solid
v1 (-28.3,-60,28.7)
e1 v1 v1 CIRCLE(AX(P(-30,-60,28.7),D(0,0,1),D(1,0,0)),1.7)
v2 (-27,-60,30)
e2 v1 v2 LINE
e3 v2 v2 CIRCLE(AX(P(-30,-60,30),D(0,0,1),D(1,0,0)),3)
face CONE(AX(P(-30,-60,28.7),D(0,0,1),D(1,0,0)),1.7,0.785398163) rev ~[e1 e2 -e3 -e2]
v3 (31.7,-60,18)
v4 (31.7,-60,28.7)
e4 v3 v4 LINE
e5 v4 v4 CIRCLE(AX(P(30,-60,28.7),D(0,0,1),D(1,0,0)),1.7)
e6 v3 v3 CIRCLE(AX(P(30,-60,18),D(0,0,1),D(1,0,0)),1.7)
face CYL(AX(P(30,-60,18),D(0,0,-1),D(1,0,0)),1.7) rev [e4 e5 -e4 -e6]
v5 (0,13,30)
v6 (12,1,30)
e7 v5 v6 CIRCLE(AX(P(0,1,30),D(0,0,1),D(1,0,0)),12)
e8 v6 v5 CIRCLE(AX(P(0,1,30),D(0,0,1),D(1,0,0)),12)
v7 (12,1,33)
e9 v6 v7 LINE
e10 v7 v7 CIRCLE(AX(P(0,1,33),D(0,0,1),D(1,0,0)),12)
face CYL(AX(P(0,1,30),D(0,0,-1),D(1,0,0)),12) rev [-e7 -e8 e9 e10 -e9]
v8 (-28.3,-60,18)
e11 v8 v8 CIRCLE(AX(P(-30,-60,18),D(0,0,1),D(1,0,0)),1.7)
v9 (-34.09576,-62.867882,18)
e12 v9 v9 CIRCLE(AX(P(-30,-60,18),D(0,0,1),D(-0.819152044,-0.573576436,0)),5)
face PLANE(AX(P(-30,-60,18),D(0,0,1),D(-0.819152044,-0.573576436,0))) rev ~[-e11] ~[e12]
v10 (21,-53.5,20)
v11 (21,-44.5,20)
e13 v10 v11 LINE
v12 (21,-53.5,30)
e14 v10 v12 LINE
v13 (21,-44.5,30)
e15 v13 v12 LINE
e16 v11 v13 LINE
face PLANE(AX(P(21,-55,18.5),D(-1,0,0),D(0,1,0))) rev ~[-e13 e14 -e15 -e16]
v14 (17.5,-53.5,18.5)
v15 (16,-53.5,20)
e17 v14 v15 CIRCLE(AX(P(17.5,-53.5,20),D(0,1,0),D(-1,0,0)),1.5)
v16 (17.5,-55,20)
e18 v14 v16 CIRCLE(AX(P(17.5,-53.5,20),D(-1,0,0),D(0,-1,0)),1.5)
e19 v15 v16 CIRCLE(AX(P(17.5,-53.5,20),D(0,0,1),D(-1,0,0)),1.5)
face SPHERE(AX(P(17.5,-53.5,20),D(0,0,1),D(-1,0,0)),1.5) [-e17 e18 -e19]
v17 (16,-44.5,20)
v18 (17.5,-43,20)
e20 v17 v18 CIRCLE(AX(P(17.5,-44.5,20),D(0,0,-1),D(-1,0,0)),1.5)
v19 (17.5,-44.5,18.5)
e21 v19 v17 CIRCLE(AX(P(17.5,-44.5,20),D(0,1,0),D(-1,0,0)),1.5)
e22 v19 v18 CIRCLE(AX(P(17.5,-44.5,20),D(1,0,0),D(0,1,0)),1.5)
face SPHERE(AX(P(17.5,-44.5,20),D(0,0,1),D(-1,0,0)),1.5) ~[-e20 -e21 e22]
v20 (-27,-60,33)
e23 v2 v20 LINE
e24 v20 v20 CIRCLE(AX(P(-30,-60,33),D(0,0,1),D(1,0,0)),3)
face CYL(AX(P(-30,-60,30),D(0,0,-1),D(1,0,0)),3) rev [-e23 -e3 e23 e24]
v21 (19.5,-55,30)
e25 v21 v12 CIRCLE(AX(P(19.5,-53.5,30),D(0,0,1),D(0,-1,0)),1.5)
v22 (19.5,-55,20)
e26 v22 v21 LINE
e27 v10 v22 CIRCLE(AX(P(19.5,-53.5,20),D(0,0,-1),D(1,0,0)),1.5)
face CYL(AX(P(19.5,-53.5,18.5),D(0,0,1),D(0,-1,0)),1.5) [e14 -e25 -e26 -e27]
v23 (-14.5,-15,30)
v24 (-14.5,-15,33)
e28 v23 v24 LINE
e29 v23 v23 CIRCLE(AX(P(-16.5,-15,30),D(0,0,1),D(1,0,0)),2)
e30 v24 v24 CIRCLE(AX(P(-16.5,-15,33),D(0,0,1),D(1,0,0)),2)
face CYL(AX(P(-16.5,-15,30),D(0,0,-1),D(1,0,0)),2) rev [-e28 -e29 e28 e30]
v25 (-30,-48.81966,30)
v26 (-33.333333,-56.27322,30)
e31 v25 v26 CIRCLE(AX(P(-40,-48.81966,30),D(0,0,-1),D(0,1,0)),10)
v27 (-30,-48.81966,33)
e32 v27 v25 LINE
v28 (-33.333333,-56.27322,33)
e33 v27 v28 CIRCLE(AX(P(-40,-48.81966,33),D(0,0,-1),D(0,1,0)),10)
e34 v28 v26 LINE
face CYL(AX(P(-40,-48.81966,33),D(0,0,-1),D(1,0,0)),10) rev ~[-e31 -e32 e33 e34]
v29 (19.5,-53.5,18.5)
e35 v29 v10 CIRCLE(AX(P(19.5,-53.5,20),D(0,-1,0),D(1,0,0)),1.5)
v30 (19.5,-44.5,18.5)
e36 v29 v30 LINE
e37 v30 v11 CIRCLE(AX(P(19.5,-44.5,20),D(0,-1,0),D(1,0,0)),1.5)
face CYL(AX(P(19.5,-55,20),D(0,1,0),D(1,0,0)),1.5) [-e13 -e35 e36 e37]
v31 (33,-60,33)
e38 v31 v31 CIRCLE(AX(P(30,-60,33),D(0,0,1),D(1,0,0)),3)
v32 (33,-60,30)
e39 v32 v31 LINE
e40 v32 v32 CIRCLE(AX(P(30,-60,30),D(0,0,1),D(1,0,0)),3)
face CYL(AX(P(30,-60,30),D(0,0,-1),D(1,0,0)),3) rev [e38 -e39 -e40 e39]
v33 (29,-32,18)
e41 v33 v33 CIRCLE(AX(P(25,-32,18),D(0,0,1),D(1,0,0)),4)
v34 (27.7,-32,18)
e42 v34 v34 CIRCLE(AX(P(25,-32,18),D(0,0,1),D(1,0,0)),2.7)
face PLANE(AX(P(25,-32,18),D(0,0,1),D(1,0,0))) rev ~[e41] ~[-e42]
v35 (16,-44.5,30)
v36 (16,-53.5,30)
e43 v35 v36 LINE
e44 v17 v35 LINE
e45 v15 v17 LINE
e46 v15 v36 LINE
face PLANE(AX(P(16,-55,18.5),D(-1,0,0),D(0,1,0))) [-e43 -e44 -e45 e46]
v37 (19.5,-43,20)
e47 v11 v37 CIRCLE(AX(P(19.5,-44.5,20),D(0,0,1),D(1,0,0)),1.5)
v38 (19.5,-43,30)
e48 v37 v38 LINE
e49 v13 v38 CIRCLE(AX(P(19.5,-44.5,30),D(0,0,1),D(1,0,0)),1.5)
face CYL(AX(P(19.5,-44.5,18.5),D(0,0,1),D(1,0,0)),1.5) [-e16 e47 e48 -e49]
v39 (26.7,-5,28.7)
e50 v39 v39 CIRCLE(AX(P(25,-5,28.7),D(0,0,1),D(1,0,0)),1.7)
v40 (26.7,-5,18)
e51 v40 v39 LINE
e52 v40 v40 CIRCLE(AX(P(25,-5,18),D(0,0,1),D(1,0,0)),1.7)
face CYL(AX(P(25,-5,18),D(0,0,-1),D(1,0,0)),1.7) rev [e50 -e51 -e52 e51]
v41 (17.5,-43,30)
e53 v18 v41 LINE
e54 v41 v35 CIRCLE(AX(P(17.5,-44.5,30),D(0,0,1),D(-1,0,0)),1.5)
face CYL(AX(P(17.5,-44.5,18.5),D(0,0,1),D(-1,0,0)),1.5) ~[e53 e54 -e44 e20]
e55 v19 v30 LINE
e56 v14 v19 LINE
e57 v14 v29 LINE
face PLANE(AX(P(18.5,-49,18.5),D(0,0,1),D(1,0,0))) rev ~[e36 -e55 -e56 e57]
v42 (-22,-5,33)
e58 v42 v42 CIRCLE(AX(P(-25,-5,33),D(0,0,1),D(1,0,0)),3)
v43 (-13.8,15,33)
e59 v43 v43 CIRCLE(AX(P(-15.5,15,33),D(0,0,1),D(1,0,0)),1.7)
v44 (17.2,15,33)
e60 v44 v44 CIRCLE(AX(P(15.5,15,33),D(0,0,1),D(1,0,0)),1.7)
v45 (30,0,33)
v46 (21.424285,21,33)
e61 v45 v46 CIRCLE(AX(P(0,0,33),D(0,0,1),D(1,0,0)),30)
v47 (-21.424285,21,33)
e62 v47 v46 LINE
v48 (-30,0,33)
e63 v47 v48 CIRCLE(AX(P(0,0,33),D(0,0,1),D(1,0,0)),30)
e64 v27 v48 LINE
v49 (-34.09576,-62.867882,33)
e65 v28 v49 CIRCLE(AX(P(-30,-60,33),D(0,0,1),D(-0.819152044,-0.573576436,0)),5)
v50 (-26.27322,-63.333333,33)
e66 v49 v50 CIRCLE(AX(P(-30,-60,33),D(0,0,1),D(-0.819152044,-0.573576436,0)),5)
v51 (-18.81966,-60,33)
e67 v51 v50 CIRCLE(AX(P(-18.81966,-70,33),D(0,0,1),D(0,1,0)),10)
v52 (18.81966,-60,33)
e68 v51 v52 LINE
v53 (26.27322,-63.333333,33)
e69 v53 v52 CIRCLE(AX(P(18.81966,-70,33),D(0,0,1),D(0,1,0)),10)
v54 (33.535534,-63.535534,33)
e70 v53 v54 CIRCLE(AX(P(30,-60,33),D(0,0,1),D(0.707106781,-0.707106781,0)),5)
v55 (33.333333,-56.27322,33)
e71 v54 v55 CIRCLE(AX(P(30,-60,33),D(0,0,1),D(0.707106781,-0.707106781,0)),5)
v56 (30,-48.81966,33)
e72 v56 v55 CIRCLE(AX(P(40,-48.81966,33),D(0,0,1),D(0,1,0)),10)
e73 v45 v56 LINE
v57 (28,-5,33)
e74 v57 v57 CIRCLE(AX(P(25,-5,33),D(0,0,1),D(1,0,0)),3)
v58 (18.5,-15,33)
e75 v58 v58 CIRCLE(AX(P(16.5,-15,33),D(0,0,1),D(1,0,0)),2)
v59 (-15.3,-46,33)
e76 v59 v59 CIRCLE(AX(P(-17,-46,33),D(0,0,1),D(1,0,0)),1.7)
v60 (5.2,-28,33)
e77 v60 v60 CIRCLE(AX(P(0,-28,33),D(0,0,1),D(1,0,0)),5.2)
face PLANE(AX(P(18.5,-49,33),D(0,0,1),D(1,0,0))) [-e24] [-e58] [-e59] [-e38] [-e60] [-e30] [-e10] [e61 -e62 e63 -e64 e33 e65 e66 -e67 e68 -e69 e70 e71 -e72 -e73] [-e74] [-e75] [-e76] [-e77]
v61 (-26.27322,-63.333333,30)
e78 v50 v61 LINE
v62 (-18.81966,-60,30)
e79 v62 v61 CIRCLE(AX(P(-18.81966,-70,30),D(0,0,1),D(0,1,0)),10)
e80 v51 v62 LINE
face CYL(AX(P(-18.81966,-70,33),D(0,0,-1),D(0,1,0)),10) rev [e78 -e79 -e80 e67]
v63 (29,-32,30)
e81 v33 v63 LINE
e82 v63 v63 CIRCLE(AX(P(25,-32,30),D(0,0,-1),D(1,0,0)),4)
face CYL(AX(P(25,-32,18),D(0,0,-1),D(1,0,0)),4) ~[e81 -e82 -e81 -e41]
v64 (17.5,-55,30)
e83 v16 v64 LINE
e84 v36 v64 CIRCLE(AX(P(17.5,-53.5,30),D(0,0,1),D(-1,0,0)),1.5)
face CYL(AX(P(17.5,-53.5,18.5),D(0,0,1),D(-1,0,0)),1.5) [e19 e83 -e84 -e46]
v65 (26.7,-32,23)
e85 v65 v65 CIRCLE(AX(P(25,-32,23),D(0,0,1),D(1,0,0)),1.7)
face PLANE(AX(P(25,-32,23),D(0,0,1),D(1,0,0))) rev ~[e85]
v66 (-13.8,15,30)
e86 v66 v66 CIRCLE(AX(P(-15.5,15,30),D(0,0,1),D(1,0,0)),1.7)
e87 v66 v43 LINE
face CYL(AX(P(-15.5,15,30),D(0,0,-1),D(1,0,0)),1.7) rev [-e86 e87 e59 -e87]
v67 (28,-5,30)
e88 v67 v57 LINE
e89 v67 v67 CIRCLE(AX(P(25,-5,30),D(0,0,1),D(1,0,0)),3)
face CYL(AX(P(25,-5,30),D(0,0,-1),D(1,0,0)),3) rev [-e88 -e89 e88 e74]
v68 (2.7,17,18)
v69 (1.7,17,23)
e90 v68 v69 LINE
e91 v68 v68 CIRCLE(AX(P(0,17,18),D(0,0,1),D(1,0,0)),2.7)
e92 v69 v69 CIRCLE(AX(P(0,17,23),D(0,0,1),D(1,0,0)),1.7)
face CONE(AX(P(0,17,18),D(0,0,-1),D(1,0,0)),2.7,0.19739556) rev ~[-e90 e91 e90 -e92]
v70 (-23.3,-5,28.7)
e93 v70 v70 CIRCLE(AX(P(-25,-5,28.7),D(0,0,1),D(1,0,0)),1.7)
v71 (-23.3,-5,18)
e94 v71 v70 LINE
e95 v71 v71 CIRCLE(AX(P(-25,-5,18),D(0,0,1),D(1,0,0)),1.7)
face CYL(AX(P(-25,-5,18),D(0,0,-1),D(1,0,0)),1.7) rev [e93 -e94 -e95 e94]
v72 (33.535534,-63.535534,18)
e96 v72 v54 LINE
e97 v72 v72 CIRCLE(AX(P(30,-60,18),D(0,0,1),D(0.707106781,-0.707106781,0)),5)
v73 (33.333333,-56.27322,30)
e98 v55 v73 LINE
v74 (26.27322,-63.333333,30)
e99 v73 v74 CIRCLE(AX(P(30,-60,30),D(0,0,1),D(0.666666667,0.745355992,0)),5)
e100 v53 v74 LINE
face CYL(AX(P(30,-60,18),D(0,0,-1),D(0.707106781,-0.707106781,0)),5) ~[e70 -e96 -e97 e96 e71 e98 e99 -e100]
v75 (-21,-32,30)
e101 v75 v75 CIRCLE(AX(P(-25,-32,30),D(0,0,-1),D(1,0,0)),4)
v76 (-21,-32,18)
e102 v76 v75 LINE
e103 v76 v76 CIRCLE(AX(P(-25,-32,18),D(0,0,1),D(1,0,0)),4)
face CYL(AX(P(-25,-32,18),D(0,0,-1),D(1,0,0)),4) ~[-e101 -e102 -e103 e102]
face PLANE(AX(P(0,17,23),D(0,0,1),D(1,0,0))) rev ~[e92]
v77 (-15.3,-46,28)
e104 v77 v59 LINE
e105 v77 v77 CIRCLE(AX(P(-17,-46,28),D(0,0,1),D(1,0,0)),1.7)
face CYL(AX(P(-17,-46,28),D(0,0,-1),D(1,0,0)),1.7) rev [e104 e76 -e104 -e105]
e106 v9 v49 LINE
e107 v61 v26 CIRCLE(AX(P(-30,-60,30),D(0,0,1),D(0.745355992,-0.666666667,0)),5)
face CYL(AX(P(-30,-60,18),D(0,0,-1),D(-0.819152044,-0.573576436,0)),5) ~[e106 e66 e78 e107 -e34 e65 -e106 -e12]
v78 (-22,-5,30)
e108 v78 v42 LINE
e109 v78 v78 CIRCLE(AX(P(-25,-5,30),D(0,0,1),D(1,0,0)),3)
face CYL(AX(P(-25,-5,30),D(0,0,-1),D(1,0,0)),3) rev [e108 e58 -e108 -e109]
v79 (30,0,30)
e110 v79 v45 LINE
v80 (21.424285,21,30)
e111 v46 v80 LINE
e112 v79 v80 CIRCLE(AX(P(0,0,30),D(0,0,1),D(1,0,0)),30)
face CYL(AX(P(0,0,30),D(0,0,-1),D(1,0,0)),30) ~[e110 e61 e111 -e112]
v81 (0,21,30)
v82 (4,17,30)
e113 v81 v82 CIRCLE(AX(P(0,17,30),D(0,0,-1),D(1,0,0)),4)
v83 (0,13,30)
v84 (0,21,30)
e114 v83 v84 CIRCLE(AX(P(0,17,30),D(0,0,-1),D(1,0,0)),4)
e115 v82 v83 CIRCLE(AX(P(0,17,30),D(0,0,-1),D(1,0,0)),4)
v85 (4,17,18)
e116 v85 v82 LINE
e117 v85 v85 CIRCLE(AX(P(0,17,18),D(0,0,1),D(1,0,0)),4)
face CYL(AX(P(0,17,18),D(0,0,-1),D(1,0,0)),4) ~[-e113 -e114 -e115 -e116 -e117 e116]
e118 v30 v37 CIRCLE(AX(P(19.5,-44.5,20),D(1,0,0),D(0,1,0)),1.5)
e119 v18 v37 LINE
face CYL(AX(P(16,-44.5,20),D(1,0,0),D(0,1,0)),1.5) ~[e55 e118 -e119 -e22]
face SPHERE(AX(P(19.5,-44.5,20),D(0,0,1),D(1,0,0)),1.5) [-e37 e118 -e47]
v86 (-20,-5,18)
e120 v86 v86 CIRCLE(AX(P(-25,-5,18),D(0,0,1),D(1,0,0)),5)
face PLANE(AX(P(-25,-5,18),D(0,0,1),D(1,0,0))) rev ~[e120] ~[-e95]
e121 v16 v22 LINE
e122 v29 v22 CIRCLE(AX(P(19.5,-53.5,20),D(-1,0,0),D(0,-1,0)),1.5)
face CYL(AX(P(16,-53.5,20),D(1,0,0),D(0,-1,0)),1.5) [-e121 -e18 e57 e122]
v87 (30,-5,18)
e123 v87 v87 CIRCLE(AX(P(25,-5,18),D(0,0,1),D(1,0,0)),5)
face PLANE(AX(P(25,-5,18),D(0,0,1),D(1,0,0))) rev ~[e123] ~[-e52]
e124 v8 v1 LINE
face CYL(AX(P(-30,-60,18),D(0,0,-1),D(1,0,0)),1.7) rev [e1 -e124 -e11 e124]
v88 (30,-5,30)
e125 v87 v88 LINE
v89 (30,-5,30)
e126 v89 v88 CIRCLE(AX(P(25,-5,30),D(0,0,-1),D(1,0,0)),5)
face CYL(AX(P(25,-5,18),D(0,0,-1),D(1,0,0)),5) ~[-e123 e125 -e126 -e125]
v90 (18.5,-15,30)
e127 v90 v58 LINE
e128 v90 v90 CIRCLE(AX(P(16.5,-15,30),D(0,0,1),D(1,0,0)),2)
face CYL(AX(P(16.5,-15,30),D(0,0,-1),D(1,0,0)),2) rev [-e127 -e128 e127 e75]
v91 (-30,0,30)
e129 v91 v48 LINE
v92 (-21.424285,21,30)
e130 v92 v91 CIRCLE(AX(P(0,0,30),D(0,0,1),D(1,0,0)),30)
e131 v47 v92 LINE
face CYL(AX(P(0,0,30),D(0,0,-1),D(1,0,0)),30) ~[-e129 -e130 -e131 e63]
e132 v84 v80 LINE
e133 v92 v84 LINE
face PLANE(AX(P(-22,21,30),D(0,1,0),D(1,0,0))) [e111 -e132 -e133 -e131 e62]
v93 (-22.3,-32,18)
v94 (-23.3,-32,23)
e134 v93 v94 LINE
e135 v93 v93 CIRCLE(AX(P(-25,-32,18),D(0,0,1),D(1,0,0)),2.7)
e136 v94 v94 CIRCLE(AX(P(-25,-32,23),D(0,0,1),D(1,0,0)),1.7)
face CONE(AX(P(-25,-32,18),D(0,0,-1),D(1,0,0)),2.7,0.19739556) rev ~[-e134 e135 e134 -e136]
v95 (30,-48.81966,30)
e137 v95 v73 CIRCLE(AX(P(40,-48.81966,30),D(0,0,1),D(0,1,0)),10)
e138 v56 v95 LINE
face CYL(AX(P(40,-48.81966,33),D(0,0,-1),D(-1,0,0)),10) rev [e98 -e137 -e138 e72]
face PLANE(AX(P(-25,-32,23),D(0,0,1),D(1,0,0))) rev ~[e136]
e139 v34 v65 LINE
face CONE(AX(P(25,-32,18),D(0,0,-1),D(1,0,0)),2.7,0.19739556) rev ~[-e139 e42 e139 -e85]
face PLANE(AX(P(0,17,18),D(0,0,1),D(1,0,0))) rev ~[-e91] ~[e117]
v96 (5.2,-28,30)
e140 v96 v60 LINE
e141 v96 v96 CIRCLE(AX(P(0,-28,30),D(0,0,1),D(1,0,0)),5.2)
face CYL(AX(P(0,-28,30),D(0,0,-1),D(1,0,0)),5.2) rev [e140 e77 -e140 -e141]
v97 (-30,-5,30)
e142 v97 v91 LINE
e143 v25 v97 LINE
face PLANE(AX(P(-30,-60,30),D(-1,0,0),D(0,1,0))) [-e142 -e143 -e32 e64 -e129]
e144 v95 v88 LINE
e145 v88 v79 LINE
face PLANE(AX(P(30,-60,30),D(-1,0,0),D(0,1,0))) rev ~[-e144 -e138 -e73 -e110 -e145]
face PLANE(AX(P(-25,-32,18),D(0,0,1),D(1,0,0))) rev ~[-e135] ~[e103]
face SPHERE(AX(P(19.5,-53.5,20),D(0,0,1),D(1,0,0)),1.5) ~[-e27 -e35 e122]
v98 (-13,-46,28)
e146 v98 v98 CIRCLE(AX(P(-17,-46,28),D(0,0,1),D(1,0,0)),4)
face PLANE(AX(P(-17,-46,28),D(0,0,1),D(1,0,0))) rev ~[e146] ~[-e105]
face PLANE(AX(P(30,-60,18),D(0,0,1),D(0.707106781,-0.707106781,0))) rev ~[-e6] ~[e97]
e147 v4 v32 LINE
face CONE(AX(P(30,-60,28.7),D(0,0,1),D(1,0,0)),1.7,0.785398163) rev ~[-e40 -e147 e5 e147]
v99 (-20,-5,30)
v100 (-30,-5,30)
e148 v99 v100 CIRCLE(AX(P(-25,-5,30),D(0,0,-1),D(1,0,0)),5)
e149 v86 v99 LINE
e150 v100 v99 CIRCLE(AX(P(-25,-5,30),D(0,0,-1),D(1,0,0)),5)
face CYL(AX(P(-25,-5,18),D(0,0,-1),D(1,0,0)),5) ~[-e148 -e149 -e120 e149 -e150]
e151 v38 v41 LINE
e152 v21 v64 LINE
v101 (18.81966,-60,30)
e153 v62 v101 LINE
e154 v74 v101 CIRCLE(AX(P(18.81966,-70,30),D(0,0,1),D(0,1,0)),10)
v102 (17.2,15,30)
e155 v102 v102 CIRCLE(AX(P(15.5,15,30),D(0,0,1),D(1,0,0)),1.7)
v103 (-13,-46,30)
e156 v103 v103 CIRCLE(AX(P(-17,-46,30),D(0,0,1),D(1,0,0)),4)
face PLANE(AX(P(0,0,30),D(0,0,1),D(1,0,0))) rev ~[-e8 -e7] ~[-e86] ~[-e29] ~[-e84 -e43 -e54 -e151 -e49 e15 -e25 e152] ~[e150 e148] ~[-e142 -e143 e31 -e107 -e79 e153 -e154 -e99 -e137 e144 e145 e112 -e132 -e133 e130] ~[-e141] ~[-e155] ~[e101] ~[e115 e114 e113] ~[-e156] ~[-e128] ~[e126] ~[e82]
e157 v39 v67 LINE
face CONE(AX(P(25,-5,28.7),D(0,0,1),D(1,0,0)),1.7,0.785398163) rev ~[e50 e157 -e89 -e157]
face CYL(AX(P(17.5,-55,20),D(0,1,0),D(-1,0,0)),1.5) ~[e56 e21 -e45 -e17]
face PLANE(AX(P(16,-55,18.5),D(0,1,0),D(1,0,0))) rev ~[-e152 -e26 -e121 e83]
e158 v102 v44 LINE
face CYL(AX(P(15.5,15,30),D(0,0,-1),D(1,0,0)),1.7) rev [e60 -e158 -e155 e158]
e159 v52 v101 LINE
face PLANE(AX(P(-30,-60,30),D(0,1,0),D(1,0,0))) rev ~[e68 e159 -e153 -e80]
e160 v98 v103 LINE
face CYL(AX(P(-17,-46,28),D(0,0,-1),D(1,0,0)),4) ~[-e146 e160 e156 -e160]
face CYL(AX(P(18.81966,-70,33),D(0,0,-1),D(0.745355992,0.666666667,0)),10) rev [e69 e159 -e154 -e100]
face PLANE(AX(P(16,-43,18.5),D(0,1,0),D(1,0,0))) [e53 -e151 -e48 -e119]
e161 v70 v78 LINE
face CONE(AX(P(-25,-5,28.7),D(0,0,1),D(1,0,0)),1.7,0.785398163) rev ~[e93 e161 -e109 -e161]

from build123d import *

# Parameters (mm, degrees)
CYLINDER054_R               = 3
CYLINDER054_DEPTH           = 3
CYLINDER053_R               = 3
CYLINDER053_DEPTH           = 3
CYLINDER052_R               = 3
CYLINDER052_DEPTH           = 3
CYLINDER055_R               = 3
CYLINDER055_DEPTH           = 3
CYLINDER079_R               = 1.7
CYLINDER079_DEPTH           = 15
CYLINDER078_R               = 1.7
CYLINDER078_DEPTH           = 15
CYLINDER_R                  = 1.7
CYLINDER_DEPTH              = 15
CYLINDER080_R               = 1.7
CYLINDER080_DEPTH           = 15
CYLINDER107_R               = 1.7
CYLINDER107_DEPTH           = 5
CYLINDER086_R               = 5.2
CYLINDER086_DEPTH           = 3
BOX014_W                    = 44
BOX014_H                    = 10
BOX014_DEPTH                = 3
CYLINDER012_R               = 12
CYLINDER012_DEPTH           = 3
CYLINDER092_R               = 1.7
CYLINDER092_DEPTH           = 3
CYLINDER091_R               = 2
CYLINDER091_DEPTH           = 3
CYLINDER090_R               = 2
CYLINDER090_DEPTH           = 3
CYLINDER093_R               = 1.7
CYLINDER093_DEPTH           = 3
CYLINDER062_R               = 30
CYLINDER062_DEPTH           = 3
BOX018_W                    = 5
BOX018_H                    = 12
BOX018_DEPTH                = 14.5
FILLET011_R                 = 1.5
CYLINDER087_R               = 4
CYLINDER087_DEPTH           = 15
CYLINDER088_R               = 4
CYLINDER088_DEPTH           = 15
CYLINDER060_R               = 4
CYLINDER060_DEPTH           = 15
CYLINDER057_R               = 5
CYLINDER057_DEPTH           = 15
CYLINDER057_PLACEMENT_ANGLE = 215
CYLINDER056_R               = 5
CYLINDER056_DEPTH           = 15
CYLINDER056_PLACEMENT_ANGLE = -45
CYLINDER058_R               = 5
CYLINDER058_DEPTH           = 15
CYLINDER059_R               = 5
CYLINDER059_DEPTH           = 15
CYLINDER106_R               = 4
CYLINDER106_DEPTH           = 2
BOX008_W                    = 60
BOX008_H                    = 60
BOX008_DEPTH                = 3
FILLET014_R                 = 10


with BuildPart() as deltacylinder007:
    # Cylinder054 → Cylinder054 (new body)
    with BuildSketch(Plane(origin=(25, -5, 30), x_dir=(1, 0, 0), z_dir=(0, 0, 1))):
        Circle(CYLINDER054_R)
    extrude(amount=CYLINDER054_DEPTH)


with BuildPart() as deltacylinder006:
    # Cylinder053 → Cylinder053 (new body)
    with BuildSketch(Plane(origin=(-30, -60, 30), x_dir=(1, 0, 0), z_dir=(0, 0, 1))):
        Circle(CYLINDER053_R)
    extrude(amount=CYLINDER053_DEPTH)


with BuildPart() as deltacylinder005:
    # Cylinder052 → Cylinder052 (new body)
    with BuildSketch(Plane(origin=(30, -60, 30), x_dir=(1, 0, 0), z_dir=(0, 0, 1))):
        Circle(CYLINDER052_R)
    extrude(amount=CYLINDER052_DEPTH)


with BuildPart() as deltacylindernutheadstop:
    # Cylinder055 → Cylinder055 (new body)
    with BuildSketch(Plane(origin=(-25, -5, 30), x_dir=(1, 0, 0), z_dir=(0, 0, 1))):
        Circle(CYLINDER055_R)
    extrude(amount=CYLINDER055_DEPTH)

    # Fusion028: union DeltaCylinder007, DeltaCylinder006, DeltaCylinder005
    add(deltacylinder007.part)
    add(deltacylinder006.part)
    add(deltacylinder005.part)


with BuildPart() as deltacylinder020:
    # Cylinder079 → Cylinder079 (new body)
    with BuildSketch(Plane(origin=(25, -5, 18), x_dir=(1, 0, 0), z_dir=(0, 0, 1))):
        Circle(CYLINDER079_R)
    extrude(amount=CYLINDER079_DEPTH)


with BuildPart() as deltacylinder019:
    # Cylinder078 → Cylinder078 (new body)
    with BuildSketch(Plane(origin=(30, -60, 18), x_dir=(1, 0, 0), z_dir=(0, 0, 1))):
        Circle(CYLINDER078_R)
    extrude(amount=CYLINDER078_DEPTH)


with BuildPart() as deltacylinder018:
    # Cylinder → Cylinder (new body)
    with BuildSketch(Plane(origin=(-30, -60, 18), x_dir=(1, 0, 0), z_dir=(0, 0, 1))):
        Circle(CYLINDER_R)
    extrude(amount=CYLINDER_DEPTH)


with BuildPart() as deltacylinderm3top:
    # Cylinder080 → Cylinder080 (new body)
    with BuildSketch(Plane(origin=(-25, -5, 18), x_dir=(1, 0, 0), z_dir=(0, 0, 1))):
        Circle(CYLINDER080_R)
    extrude(amount=CYLINDER080_DEPTH)

    # Fusion027: union DeltaCylinder020, DeltaCylinder019, DeltaCylinder018
    add(deltacylinder020.part)
    add(deltacylinder019.part)
    add(deltacylinder018.part)


with BuildPart() as deltaconetop001:
    # Cone005 → Cone005 (revolve)
    with BuildSketch(Plane(origin=(-25, -32, 18), x_dir=(1, 0, 0), z_dir=(0, -1, 0))):
        Polygon((0, 0), (2.7, 0), (1.7, 5), (0, 5), align=None)
    revolve(axis=Axis((-25, -32, 18), (0, 0, 1)))


with BuildPart() as deltaconetop:
    # Cone002 → Cone002 (revolve)
    with BuildSketch(Plane(origin=(0, 17, 18), x_dir=(1, 0, 0), z_dir=(0, -1, 0))):
        Polygon((0, 0), (2.7, 0), (1.7, 5), (0, 5), align=None)
    revolve(axis=Axis((0, 17, 18), (0, 0, 1)))


with BuildPart() as deltaalignmentboltstop:
    # Cone006 → Cone006 (revolve)
    with BuildSketch(Plane(origin=(25, -32, 18), x_dir=(1, 0, 0), z_dir=(0, -1, 0))):
        Polygon((0, 0), (2.7, 0), (1.7, 5), (0, 5), align=None)
    revolve(axis=Axis((25, -32, 18), (0, 0, 1)))

    # Fusion026: union DeltaConeTop001, DeltaConeTop
    add(deltaconetop001.part)
    add(deltaconetop.part)


with BuildPart() as deltacone005:
    # Cone011 → Cone011 (revolve)
    with BuildSketch(Plane(origin=(30, -60, 28.7), x_dir=(1, 0, 0), z_dir=(0, -1, 0))):
        Polygon((0, 0), (1.7, 0), (3, 1.3), (0, 1.3), align=None)
    revolve(axis=Axis((30, -60, 28.7), (0, 0, 1)))


with BuildPart() as deltacone004:
    # Cone010 → Cone010 (revolve)
    with BuildSketch(Plane(origin=(-30, -60, 28.7), x_dir=(1, 0, 0), z_dir=(0, -1, 0))):
        Polygon((0, 0), (1.7, 0), (3, 1.3), (0, 1.3), align=None)
    revolve(axis=Axis((-30, -60, 28.7), (0, 0, 1)))


with BuildPart() as deltacone003:
    # Cone009 → Cone009 (revolve)
    with BuildSketch(Plane(origin=(-25, -5, 28.7), x_dir=(1, 0, 0), z_dir=(0, -1, 0))):
        Polygon((0, 0), (1.7, 0), (3, 1.3), (0, 1.3), align=None)
    revolve(axis=Axis((-25, -5, 28.7), (0, 0, 1)))


with BuildPart() as deltaconenutheadstop:
    # Cone008 → Cone008 (revolve)
    with BuildSketch(Plane(origin=(25, -5, 28.7), x_dir=(1, 0, 0), z_dir=(0, -1, 0))):
        Polygon((0, 0), (1.7, 0), (3, 1.3), (0, 1.3), align=None)
    revolve(axis=Axis((25, -5, 28.7), (0, 0, 1)))

    # Fusion031: union DeltaCone005, DeltaCone004, DeltaCone003
    add(deltacone005.part)
    add(deltacone004.part)
    add(deltacone003.part)


with BuildPart() as deltacylinderholderaxistop:
    # Cylinder107 → Cylinder107 (new body)
    with BuildSketch(Plane(origin=(-17, -46, 28), x_dir=(1, 0, 0), z_dir=(0, 0, 1))):
        Circle(CYLINDER107_R)
    extrude(amount=CYLINDER107_DEPTH)


with BuildPart() as deltacylinderf623zztop:
    # Cylinder086 → Cylinder086 (new body)
    with BuildSketch(Plane(origin=(0, -28, 30), x_dir=(1, 0, 0), z_dir=(0, 0, 1))):
        Circle(CYLINDER086_R)
    extrude(amount=CYLINDER086_DEPTH)


with BuildPart() as deltacubenema17top:
    # Box014 → Box014 (new body)
    with BuildSketch(Plane(origin=(-22, 21, 30), x_dir=(1, 0, 0), z_dir=(0, 0, 1))):
        with Locations((22, 5)):
            Rectangle(BOX014_W, BOX014_H)
    extrude(amount=BOX014_DEPTH)


with BuildPart() as deltacylindersmallgeartop:
    # Cylinder012 → Cylinder012 (new body)
    with BuildSketch(Plane(origin=(0, 1, 30), x_dir=(1, 0, 0), z_dir=(0, 0, 1))):
        Circle(CYLINDER012_R)
    extrude(amount=CYLINDER012_DEPTH)


with BuildPart() as deltacylinder031:
    # Cylinder092 → Cylinder092 (new body)
    with BuildSketch(Plane(origin=(-15.5, 15, 30), x_dir=(1, 0, 0), z_dir=(0, 0, 1))):
        Circle(CYLINDER092_R)
    extrude(amount=CYLINDER092_DEPTH)


with BuildPart() as deltacylinder030:
    # Cylinder091 → Cylinder091 (new body)
    with BuildSketch(Plane(origin=(-16.5, -15, 30), x_dir=(1, 0, 0), z_dir=(0, 0, 1))):
        Circle(CYLINDER091_R)
    extrude(amount=CYLINDER091_DEPTH)


with BuildPart() as deltacylinder029:
    # Cylinder090 → Cylinder090 (new body)
    with BuildSketch(Plane(origin=(16.5, -15, 30), x_dir=(1, 0, 0), z_dir=(0, 0, 1))):
        Circle(CYLINDER090_R)
    extrude(amount=CYLINDER090_DEPTH)


with BuildPart() as deltacylindernemahexnut:
    # Cylinder093 → Cylinder093 (new body)
    with BuildSketch(Plane(origin=(15.5, 15, 30), x_dir=(1, 0, 0), z_dir=(0, 0, 1))):
        Circle(CYLINDER093_R)
    extrude(amount=CYLINDER093_DEPTH)

    # Fusion025: union DeltaCylinder031, DeltaCylinder030, DeltaCylinder029
    add(deltacylinder031.part)
    add(deltacylinder030.part)
    add(deltacylinder029.part)


with BuildPart() as cylinderbasetop:
    # Cylinder062 → Cylinder062 (new body)
    with BuildSketch(Plane.XY.offset(30)):
        Circle(CYLINDER062_R)
    extrude(amount=CYLINDER062_DEPTH)


with BuildPart() as slidingboxtop:
    # Box018 → Box018 (new body)
    with BuildSketch(Plane(origin=(16, -55, 18.5), x_dir=(1, 0, 0), z_dir=(0, 0, 1))):
        with Locations((2.5, 6)):
            Rectangle(BOX018_W, BOX018_H)
    extrude(amount=BOX018_DEPTH)

    # Fillet011
    fillet011_edges = [slidingboxtop.edges().sort_by_distance(p)[0] for p in [
        (16, -55, 25.75),
        (16, -43, 25.75),
        (16, -49, 18.5),
        (21, -55, 25.75),
        (21, -43, 25.75),
        (21, -49, 18.5),
        (18.5, -55, 18.5),
        (18.5, -43, 18.5),
    ]]
    fillet(fillet011_edges, radius=FILLET011_R)


with BuildPart() as cylinder114:
    # Cylinder087 → Cylinder087 (new body)
    with BuildSketch(Plane(origin=(25, -32, 18), x_dir=(1, 0, 0), z_dir=(0, 0, 1))):
        Circle(CYLINDER087_R)
    extrude(amount=CYLINDER087_DEPTH)


with BuildPart() as cylinder115:
    # Cylinder088 → Cylinder088 (new body)
    with BuildSketch(Plane(origin=(-25, -32, 18), x_dir=(1, 0, 0), z_dir=(0, 0, 1))):
        Circle(CYLINDER088_R)
    extrude(amount=CYLINDER088_DEPTH)


with BuildPart() as cylinderalignmentboltstop:
    # Cylinder060 → Cylinder060 (new body)
    with BuildSketch(Plane(origin=(0, 17, 18), x_dir=(1, 0, 0), z_dir=(0, 0, 1))):
        Circle(CYLINDER060_R)
    extrude(amount=CYLINDER060_DEPTH)

    # Fusion029: union Cylinder114, Cylinder115
    add(cylinder114.part)
    add(cylinder115.part)


with BuildPart() as cylinder049:
    # Cylinder057 → Cylinder057 (new body)
    with BuildSketch(Plane.XY):
        Circle(CYLINDER057_R)
    extrude(amount=CYLINDER057_DEPTH)


with BuildPart() as cylinder049_1:
    # Cylinder057 placement: moved
    add(cylinder049.part.moved(Location((-30, -60, 18))).rotate(Axis((-30, -60, 18), (0, 0, 1)), CYLINDER057_PLACEMENT_ANGLE))


with BuildPart() as cylinder048:
    # Cylinder056 → Cylinder056 (new body)
    with BuildSketch(Plane.XY):
        Circle(CYLINDER056_R)
    extrude(amount=CYLINDER056_DEPTH)


with BuildPart() as cylinder048_1:
    # Cylinder056 placement: moved
    add(cylinder048.part.moved(Location((30, -60, 18))).rotate(Axis((30, -60, 18), (0, 0, 1)), CYLINDER056_PLACEMENT_ANGLE))


with BuildPart() as cylinder050:
    # Cylinder058 → Cylinder058 (new body)
    with BuildSketch(Plane(origin=(25, -5, 18), x_dir=(1, 0, 0), z_dir=(0, 0, 1))):
        Circle(CYLINDER058_R)
    extrude(amount=CYLINDER058_DEPTH)


with BuildPart() as cylindernutstop:
    # Cylinder059 → Cylinder059 (new body)
    with BuildSketch(Plane(origin=(-25, -5, 18), x_dir=(1, 0, 0), z_dir=(0, 0, 1))):
        Circle(CYLINDER059_R)
    extrude(amount=CYLINDER059_DEPTH)

    # Fusion030: union Cylinder049, Cylinder048, Cylinder050
    add(cylinder049_1.part)
    add(cylinder048_1.part)
    add(cylinder050.part)


with BuildPart() as cylinderholderwashertop:
    # Cylinder106 → Cylinder106 (new body)
    with BuildSketch(Plane(origin=(-17, -46, 28), x_dir=(1, 0, 0), z_dir=(0, 0, 1))):
        Circle(CYLINDER106_R)
    extrude(amount=CYLINDER106_DEPTH)


with BuildPart() as extrudercasetop:
    # Box008 → Box008 (new body)
    with BuildSketch(Plane(origin=(-30, -60, 30), x_dir=(1, 0, 0), z_dir=(0, 0, 1))):
        with Locations((30, 30)):
            Rectangle(BOX008_W, BOX008_H)
    extrude(amount=BOX008_DEPTH)

    # Fusion037: union CylinderBaseTop, SlidingBoxTop, CylinderAlignmentBoltsTop, CylinderNutsTop, CylinderHolderWasherTop
    add(cylinderbasetop.part)
    add(slidingboxtop.part)
    add(cylinderalignmentboltstop.part)
    add(cylindernutstop.part)
    add(cylinderholderwashertop.part)

    # Cut073: cut DeltaCylinderNemaHexNut
    add(deltacylindernemahexnut.part, mode=Mode.SUBTRACT)

    # Cut074: cut DeltaCylinderSmallGearTop
    add(deltacylindersmallgeartop.part, mode=Mode.SUBTRACT)

    # Cut075: cut DeltaCubeNema17Top
    add(deltacubenema17top.part, mode=Mode.SUBTRACT)

    # Cut076: cut DeltaCylinderF623ZZTop
    add(deltacylinderf623zztop.part, mode=Mode.SUBTRACT)

    # Cut077: cut DeltaCylinderHolderAxisTop
    add(deltacylinderholderaxistop.part, mode=Mode.SUBTRACT)

    # Cut078: cut DeltaConeNutHeadsTop
    add(deltaconenutheadstop.part, mode=Mode.SUBTRACT)

    # Cut079: cut DeltaAlignmentBoltsTop
    add(deltaalignmentboltstop.part, mode=Mode.SUBTRACT)

    # Cut080: cut DeltaCylinderM3Top
    add(deltacylinderm3top.part, mode=Mode.SUBTRACT)

    # Cut081: cut DeltaCylinderNutHeadsTop
    add(deltacylindernutheadstop.part, mode=Mode.SUBTRACT)

    # Fillet014
    fillet014_edges = [extrudercasetop.edges().sort_by_distance(p)[0] for p in [
        (30, -55, 31.5),
        (25, -60, 31.5),
        (-25, -60, 31.5),
        (-30, -55, 31.5),
    ]]
    fillet(fillet014_edges, radius=FILLET014_R)


solid = extrudercasetop.part
